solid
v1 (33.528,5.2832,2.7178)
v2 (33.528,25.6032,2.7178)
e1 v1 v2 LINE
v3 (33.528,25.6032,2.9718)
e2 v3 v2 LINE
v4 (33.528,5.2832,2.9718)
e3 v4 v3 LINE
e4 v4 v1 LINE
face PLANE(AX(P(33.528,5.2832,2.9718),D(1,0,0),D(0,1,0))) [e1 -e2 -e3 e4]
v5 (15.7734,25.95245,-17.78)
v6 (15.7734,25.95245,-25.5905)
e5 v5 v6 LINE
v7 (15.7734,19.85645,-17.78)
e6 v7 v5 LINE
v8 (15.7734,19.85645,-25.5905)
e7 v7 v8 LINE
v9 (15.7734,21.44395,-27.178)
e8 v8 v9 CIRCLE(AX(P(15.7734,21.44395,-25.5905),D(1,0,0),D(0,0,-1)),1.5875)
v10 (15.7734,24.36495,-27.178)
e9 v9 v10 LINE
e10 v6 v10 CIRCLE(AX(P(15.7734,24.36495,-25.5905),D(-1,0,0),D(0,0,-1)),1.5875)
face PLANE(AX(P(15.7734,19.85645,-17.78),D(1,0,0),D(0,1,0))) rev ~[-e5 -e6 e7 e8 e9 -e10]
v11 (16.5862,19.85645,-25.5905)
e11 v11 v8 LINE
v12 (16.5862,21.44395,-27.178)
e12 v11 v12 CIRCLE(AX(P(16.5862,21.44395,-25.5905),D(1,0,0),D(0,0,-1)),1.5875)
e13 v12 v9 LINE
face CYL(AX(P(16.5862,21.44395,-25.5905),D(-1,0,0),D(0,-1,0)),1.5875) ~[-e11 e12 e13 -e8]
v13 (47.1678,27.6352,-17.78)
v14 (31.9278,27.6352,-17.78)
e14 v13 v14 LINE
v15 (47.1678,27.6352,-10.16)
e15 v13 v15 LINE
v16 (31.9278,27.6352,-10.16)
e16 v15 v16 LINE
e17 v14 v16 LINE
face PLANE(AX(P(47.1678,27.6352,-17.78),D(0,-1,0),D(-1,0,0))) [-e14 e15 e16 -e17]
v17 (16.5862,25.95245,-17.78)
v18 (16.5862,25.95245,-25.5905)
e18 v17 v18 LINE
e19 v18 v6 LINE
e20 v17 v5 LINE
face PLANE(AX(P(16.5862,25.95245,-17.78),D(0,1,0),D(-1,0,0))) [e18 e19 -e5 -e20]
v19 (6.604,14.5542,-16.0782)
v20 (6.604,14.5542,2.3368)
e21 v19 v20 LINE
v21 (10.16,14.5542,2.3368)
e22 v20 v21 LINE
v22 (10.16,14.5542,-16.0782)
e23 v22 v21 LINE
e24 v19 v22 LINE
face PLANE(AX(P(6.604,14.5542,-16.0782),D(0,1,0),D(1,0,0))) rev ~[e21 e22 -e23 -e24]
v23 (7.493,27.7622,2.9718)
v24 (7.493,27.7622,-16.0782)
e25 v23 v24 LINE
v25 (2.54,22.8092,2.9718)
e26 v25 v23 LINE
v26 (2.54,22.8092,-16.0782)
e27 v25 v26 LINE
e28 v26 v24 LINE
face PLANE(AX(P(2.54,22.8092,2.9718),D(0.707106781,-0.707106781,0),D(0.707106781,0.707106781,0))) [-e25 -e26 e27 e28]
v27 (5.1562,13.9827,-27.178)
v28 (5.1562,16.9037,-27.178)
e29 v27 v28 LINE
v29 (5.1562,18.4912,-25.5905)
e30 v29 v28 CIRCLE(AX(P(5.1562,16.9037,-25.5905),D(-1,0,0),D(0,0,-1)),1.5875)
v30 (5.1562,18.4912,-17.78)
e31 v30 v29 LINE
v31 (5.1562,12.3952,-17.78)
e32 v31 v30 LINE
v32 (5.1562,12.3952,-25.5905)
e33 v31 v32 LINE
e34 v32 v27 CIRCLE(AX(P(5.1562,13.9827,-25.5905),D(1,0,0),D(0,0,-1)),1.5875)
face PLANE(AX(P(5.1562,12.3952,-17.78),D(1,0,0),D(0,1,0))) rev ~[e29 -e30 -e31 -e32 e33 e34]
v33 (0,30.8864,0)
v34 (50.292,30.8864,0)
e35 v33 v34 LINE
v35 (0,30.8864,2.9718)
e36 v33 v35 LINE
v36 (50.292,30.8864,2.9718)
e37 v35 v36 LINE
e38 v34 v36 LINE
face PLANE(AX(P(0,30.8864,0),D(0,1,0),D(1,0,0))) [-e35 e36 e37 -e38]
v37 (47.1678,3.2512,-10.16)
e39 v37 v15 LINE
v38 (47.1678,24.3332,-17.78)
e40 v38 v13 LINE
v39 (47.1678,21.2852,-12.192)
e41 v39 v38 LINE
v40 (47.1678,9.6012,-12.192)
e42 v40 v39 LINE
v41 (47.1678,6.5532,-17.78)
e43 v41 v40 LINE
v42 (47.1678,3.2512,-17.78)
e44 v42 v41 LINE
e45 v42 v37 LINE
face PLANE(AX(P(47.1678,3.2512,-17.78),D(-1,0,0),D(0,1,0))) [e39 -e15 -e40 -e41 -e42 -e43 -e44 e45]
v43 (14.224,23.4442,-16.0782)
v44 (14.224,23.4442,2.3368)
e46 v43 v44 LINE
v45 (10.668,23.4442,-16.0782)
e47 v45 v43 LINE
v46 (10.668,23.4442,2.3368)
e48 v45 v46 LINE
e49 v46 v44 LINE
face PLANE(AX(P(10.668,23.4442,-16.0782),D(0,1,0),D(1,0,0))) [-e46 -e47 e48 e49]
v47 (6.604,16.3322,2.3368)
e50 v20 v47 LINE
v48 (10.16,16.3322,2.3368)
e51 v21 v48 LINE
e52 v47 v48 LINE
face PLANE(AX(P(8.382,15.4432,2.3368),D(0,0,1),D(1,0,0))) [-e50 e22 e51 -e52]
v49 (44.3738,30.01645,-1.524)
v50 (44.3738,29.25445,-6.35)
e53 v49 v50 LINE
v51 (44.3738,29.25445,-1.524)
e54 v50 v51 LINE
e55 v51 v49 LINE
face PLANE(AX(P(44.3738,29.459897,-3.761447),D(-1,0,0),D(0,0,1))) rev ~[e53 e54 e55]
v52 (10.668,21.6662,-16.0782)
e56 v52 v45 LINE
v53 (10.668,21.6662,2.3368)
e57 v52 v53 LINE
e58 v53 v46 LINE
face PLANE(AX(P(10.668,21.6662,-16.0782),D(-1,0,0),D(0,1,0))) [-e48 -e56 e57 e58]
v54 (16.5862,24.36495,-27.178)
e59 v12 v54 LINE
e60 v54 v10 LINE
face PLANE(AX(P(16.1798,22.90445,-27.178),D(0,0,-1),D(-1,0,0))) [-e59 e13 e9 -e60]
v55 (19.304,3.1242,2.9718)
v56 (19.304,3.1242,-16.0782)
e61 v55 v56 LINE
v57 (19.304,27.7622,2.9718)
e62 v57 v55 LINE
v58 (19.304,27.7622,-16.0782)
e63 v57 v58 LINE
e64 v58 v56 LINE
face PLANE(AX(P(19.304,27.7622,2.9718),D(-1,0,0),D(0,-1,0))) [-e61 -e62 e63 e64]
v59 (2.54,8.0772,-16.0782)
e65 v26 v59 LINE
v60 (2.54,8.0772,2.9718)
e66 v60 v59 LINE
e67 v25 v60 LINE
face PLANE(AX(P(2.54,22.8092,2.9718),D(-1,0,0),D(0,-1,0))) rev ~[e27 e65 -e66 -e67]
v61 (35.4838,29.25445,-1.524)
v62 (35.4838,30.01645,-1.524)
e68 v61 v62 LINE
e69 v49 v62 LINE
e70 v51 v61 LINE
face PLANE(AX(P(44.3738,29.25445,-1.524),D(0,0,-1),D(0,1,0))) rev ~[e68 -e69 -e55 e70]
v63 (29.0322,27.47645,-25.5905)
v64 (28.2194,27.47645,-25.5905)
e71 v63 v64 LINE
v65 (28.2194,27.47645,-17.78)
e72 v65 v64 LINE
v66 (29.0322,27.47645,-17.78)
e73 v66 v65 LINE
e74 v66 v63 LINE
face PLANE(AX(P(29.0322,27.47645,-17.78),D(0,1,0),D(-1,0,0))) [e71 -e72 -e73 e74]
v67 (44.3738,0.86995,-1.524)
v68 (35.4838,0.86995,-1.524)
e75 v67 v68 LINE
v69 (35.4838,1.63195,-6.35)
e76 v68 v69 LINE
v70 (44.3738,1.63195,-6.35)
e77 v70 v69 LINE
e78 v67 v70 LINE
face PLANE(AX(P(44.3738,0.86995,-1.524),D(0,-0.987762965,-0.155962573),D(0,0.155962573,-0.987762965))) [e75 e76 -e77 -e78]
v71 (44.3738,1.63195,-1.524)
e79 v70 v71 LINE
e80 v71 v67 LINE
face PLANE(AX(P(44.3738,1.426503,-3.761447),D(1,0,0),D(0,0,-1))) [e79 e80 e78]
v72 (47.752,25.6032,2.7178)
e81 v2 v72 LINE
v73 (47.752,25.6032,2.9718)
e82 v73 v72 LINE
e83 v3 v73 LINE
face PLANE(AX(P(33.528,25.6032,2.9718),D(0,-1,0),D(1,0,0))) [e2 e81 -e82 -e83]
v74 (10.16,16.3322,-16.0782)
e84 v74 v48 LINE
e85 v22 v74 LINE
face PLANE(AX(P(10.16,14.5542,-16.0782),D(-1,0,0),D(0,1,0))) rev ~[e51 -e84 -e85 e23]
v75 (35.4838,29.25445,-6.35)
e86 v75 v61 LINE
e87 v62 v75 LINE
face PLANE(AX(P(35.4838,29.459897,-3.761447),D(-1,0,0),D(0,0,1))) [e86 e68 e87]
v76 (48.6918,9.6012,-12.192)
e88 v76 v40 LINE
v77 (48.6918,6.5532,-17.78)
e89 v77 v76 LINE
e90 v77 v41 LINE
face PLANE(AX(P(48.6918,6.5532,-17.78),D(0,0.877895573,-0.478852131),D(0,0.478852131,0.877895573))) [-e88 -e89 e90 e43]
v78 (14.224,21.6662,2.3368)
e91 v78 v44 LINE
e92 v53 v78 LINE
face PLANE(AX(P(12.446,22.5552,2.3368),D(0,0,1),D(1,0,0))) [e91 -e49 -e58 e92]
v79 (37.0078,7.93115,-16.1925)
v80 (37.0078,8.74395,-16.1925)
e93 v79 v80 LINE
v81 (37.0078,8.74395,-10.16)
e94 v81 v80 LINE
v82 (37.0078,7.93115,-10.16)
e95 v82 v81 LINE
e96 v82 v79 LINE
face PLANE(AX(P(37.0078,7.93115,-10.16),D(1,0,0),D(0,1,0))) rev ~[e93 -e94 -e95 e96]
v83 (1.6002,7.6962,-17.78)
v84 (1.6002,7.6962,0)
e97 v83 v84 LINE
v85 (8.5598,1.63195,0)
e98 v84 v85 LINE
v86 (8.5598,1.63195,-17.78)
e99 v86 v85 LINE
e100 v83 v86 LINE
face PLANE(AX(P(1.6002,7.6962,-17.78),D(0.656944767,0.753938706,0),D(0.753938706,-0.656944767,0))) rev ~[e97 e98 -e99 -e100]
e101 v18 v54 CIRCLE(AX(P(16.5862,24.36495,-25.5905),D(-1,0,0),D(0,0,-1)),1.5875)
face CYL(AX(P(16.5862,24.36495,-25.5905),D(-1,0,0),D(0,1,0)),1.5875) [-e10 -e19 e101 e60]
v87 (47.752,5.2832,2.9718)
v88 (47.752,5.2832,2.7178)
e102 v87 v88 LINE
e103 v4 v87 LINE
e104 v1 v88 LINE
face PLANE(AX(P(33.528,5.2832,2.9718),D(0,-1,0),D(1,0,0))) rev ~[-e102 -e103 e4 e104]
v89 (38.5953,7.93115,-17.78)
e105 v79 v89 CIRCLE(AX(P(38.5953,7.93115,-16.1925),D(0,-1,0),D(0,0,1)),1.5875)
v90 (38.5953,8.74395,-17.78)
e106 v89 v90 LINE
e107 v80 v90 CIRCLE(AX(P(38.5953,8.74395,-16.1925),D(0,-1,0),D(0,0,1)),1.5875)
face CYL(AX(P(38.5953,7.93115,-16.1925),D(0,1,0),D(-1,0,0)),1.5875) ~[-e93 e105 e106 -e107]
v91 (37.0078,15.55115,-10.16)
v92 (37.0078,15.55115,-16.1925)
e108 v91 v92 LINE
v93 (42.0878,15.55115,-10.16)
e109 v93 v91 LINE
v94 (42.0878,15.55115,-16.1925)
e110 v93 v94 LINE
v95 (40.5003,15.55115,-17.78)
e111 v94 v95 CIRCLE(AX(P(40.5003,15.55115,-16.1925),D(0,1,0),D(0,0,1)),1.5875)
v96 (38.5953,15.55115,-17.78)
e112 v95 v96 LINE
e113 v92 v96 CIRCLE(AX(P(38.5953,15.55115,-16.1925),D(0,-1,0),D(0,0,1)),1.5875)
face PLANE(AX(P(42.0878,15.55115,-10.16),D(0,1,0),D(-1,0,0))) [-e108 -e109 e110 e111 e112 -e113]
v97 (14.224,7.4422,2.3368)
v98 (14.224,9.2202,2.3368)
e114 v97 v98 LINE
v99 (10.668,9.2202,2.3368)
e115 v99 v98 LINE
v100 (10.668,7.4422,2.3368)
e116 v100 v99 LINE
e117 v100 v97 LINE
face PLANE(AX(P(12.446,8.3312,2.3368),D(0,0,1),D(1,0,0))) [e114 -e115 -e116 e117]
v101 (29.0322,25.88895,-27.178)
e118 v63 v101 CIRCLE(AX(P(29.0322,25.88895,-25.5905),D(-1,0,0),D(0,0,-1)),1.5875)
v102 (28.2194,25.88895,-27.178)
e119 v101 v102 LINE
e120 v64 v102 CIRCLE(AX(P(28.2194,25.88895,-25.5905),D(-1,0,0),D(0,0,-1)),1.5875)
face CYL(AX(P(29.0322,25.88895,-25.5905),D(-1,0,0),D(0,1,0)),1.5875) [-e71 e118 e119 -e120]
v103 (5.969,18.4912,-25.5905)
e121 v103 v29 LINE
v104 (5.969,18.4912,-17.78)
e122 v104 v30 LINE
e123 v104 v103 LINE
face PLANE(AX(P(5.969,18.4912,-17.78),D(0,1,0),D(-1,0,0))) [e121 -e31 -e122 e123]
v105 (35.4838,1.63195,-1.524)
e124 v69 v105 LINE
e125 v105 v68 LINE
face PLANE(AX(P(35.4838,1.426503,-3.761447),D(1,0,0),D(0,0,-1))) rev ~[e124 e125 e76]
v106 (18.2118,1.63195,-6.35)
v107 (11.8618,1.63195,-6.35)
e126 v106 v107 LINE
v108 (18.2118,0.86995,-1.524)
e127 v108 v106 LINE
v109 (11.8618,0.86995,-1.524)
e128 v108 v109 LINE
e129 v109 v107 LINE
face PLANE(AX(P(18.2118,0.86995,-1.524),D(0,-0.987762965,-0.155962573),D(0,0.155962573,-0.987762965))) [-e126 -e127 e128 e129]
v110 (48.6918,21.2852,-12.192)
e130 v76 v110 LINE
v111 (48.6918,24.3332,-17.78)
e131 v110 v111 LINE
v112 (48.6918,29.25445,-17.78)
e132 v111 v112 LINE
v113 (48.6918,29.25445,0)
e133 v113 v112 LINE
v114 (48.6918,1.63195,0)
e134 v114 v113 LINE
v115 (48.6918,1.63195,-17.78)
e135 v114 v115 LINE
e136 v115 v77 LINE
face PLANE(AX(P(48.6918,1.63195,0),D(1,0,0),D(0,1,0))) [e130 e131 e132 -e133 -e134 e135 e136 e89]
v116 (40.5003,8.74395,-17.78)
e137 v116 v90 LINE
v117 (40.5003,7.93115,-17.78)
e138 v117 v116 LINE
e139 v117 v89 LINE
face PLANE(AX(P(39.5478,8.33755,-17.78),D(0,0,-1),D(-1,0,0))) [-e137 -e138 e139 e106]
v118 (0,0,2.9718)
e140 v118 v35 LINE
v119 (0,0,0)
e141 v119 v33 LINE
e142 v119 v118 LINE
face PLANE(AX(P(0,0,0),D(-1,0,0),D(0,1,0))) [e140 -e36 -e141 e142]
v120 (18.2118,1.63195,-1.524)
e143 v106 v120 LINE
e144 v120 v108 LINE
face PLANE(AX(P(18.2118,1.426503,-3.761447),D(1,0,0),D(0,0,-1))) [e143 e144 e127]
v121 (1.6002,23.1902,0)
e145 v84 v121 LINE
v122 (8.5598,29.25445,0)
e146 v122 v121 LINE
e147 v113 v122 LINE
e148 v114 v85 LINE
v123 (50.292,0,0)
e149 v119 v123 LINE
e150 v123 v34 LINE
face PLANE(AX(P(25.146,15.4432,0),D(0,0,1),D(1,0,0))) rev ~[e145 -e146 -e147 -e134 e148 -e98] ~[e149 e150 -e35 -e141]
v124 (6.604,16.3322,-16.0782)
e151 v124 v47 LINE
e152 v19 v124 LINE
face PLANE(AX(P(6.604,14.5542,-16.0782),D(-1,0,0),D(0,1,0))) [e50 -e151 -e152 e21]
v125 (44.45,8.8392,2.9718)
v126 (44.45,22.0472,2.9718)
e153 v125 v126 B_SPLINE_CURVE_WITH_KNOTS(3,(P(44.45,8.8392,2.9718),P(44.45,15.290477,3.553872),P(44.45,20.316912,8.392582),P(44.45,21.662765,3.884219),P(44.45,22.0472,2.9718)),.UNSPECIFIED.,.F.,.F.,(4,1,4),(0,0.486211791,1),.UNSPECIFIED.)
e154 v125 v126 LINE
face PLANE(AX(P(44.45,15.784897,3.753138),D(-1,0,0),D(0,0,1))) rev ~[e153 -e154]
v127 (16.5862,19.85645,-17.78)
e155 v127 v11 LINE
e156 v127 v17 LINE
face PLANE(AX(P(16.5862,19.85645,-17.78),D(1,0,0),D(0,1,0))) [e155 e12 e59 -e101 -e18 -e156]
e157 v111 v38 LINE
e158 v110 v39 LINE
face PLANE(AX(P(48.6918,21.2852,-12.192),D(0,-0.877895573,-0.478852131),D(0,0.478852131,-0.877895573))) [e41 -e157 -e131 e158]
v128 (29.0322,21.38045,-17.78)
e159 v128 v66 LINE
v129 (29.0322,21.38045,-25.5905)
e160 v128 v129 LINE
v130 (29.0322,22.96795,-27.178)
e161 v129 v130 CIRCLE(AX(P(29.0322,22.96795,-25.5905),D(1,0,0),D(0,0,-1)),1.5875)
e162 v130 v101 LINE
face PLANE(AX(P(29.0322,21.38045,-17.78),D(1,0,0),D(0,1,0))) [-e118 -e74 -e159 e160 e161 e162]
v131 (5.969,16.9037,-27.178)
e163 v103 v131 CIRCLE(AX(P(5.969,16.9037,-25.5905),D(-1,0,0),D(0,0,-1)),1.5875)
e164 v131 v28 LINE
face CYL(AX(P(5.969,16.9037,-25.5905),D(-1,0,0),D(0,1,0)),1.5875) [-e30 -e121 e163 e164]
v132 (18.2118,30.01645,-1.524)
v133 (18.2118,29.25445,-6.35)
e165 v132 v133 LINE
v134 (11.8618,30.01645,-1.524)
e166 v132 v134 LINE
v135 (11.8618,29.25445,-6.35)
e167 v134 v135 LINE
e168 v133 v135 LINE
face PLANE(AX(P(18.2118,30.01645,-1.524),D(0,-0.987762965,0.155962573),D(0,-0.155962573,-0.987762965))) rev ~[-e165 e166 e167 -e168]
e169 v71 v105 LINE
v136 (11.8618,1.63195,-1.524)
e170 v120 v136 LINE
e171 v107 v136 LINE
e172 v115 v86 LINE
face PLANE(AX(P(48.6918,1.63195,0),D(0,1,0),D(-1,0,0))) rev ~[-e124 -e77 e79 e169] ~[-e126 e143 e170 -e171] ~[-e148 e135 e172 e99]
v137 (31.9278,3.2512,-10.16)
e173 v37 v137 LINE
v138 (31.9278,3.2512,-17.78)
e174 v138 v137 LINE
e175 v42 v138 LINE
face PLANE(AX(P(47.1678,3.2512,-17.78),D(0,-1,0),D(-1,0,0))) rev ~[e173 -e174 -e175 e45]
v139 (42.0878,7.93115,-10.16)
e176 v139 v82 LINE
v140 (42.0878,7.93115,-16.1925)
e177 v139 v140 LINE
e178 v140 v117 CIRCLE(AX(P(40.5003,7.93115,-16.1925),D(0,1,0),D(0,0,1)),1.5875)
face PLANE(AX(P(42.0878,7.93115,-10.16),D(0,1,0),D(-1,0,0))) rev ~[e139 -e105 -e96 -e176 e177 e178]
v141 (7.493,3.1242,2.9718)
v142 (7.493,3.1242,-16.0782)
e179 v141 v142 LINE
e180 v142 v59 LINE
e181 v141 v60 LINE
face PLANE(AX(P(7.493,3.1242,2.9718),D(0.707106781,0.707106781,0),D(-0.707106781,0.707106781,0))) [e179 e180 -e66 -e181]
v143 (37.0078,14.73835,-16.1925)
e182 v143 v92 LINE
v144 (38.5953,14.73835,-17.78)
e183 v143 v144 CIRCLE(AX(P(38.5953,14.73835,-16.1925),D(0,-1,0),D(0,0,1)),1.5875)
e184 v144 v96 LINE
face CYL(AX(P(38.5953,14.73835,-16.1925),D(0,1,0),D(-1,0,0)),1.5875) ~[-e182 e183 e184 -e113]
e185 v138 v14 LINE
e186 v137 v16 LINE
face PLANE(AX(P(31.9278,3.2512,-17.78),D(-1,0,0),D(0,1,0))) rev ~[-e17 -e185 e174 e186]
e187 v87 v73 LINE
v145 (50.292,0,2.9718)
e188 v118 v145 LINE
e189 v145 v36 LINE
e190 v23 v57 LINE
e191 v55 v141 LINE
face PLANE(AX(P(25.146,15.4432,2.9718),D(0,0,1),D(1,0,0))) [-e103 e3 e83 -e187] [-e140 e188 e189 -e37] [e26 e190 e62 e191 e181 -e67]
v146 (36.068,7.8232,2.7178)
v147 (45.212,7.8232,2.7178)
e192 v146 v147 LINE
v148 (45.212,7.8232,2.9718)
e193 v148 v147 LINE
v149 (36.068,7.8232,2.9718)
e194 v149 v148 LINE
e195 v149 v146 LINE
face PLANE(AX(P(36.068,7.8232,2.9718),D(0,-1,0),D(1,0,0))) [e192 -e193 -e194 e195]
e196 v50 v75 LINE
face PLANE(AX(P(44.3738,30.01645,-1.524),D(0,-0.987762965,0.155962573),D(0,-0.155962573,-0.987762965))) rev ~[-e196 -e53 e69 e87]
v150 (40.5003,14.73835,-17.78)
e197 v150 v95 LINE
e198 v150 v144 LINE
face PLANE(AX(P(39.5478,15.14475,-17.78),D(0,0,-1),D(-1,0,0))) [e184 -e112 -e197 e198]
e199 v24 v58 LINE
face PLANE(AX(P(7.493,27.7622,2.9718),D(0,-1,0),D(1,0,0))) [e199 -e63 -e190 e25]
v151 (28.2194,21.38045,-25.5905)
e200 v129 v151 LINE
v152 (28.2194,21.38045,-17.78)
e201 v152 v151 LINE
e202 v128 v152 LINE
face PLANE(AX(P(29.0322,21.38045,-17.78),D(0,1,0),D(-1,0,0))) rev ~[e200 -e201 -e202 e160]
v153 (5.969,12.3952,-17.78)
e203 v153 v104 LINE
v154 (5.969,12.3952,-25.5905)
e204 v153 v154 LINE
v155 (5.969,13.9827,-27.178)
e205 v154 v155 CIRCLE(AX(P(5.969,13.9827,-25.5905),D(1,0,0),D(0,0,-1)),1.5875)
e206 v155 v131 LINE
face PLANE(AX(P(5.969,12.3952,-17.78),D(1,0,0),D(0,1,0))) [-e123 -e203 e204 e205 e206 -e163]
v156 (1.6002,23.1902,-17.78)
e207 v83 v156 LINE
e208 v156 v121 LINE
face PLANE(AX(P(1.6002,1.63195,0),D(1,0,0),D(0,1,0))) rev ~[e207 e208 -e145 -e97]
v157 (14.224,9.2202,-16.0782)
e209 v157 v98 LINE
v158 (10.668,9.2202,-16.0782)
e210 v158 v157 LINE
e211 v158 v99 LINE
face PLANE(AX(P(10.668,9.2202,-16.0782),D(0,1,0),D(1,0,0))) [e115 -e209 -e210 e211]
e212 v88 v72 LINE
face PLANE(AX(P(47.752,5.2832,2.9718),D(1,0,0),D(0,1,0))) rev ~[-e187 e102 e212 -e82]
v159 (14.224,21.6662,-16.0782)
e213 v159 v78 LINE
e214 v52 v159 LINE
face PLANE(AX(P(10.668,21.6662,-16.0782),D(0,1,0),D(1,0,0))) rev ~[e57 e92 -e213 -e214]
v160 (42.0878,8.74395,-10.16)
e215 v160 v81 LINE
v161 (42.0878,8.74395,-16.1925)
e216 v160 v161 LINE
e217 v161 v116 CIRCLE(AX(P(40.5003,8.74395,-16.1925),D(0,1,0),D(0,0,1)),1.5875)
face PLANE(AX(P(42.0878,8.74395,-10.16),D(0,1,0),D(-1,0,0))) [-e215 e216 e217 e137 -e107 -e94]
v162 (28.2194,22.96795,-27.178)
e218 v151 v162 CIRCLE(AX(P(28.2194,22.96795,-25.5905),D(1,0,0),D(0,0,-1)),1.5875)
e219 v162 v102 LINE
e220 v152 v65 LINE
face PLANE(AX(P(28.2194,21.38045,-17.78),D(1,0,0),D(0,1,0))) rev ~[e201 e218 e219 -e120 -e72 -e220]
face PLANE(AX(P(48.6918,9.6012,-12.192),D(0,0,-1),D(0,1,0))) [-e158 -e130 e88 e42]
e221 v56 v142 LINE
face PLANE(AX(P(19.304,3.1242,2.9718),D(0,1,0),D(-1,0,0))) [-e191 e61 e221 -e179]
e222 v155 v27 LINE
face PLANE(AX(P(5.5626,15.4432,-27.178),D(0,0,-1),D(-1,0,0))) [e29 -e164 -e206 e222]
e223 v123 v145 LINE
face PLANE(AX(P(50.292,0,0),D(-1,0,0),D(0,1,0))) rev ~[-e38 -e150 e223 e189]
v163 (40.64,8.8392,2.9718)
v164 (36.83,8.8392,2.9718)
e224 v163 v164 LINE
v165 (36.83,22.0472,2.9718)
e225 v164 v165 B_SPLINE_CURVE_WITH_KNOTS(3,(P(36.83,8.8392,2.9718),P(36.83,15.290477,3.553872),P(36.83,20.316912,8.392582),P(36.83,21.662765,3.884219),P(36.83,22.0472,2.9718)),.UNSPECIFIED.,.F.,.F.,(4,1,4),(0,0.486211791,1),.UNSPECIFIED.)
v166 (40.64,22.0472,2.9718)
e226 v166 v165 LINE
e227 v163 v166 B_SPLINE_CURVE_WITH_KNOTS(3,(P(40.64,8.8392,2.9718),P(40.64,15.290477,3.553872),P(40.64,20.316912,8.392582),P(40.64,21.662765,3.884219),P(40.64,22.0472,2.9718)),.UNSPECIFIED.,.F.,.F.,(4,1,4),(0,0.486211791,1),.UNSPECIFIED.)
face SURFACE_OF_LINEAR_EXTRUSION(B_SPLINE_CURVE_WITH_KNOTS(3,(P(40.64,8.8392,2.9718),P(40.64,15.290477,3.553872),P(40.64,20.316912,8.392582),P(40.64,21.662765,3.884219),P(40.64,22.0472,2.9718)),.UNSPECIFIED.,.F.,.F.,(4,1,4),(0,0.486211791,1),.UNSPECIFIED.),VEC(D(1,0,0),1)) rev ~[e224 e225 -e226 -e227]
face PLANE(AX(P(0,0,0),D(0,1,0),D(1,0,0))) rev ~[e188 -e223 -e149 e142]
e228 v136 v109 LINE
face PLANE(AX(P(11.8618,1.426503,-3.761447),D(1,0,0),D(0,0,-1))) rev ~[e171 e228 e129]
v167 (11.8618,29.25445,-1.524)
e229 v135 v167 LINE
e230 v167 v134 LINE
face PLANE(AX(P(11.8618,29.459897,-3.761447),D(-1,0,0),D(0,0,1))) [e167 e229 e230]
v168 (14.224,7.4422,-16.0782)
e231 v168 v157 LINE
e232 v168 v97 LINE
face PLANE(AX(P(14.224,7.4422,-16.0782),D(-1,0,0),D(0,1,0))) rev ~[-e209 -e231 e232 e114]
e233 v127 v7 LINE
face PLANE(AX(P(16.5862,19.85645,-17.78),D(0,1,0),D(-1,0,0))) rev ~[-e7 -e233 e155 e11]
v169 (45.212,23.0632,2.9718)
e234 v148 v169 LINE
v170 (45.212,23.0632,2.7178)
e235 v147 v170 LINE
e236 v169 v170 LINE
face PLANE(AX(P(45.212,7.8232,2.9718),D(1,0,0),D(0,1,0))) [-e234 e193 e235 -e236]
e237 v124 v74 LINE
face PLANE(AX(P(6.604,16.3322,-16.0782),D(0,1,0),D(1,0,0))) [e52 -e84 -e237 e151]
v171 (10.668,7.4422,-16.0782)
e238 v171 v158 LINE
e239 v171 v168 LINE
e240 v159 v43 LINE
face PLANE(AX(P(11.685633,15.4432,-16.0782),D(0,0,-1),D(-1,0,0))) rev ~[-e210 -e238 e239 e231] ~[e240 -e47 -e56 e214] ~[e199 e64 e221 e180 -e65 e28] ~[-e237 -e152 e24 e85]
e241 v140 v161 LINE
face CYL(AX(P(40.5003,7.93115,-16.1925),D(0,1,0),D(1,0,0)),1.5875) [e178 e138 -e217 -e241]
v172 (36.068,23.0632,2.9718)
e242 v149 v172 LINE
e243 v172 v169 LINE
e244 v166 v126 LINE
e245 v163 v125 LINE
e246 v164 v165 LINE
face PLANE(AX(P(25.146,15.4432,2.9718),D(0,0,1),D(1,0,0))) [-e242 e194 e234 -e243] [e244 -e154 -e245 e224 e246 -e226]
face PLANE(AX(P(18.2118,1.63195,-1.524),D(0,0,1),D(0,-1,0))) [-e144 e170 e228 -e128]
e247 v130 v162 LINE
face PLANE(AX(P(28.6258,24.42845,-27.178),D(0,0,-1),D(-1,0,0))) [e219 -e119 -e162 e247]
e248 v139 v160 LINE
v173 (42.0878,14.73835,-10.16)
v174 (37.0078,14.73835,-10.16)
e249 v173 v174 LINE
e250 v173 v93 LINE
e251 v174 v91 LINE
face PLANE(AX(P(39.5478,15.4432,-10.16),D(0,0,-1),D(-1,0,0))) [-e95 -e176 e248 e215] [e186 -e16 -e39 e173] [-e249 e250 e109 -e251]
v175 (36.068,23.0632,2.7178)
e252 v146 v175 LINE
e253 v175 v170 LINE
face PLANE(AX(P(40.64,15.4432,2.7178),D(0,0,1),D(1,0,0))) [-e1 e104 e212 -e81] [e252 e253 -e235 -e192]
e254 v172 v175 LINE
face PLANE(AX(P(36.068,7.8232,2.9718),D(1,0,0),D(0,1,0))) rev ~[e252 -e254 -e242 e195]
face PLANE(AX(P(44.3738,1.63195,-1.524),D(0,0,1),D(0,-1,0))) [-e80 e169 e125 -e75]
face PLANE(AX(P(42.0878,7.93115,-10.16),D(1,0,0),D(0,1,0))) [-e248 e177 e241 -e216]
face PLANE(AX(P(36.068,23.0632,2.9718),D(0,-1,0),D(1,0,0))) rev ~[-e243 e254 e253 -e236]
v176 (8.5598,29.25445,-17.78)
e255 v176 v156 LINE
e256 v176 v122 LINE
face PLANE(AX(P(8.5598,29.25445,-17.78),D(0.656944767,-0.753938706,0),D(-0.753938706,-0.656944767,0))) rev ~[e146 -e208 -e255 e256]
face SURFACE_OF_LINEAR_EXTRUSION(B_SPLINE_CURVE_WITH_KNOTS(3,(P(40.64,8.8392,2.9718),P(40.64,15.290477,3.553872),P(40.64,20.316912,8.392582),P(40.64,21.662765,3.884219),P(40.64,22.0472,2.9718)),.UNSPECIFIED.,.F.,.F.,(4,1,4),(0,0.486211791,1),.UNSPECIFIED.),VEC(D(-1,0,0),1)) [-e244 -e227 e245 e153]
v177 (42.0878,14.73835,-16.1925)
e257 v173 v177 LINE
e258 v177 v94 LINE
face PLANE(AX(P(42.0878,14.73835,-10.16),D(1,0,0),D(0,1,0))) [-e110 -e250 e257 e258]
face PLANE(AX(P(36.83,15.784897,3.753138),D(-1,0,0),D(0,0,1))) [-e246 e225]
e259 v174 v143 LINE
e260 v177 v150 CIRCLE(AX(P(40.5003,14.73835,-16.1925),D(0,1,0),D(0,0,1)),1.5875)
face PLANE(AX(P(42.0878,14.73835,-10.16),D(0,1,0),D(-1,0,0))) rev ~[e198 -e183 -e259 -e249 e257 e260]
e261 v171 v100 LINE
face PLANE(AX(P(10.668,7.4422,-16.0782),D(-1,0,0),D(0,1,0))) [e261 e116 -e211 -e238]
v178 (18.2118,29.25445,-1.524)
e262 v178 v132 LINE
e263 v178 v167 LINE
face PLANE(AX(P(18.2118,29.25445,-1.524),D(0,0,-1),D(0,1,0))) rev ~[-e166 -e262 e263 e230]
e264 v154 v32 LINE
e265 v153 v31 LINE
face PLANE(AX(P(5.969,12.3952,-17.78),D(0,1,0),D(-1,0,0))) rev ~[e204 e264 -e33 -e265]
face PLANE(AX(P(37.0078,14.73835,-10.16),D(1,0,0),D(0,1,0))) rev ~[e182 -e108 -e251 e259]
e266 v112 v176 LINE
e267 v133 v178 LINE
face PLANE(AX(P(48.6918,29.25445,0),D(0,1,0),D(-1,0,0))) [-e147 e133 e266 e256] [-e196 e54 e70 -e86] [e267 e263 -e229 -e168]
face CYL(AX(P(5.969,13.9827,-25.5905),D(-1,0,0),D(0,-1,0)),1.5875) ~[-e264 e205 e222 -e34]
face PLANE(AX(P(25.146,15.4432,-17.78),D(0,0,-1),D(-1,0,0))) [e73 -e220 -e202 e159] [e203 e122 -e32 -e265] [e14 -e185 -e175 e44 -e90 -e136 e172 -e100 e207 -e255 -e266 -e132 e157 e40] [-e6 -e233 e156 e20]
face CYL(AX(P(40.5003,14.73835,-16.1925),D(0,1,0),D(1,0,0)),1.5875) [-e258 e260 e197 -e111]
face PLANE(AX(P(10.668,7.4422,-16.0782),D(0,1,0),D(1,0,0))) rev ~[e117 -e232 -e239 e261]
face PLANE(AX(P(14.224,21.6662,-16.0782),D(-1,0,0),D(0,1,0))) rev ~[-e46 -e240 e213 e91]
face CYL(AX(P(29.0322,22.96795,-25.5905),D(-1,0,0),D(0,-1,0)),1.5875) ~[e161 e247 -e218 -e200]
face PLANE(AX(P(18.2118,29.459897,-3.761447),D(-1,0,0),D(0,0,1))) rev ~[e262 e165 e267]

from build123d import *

# Parameters (mm, degrees)
SKETCH1_W           = 50.292
SKETCH1_H           = 30.8864
BOSS_EXTRUDE1_DEPTH = 2.9718
SKETCH2_W           = 47.0916
SKETCH2_H           = 27.6225
BOSS_EXTRUDE2_DEPTH = 17.78
CUT_EXTRUDE1_DEPTH  = 17.78
SKETCH4_W           = 15.24
SKETCH4_H           = 24.384
CUT_EXTRUDE2_DEPTH  = 7.62
CUT_EXTRUDE3_REACH  = 62.341
SKETCH6_W           = 0.8128
SKETCH6_H           = 6.096
BOSS_EXTRUDE3_DEPTH = 9.398
SKETCH7_W           = 5.08
SKETCH7_H           = 0.8128
BOSS_EXTRUDE4_DEPTH = 7.62
FILLET1_R           = 1.5875
CUT_EXTRUDE4_DEPTH  = 19.05
SKETCH9_W           = 3.556
SKETCH9_H           = 1.778
BOSS_EXTRUDE5_DEPTH = 18.415
SKETCH10_W          = 14.224
SKETCH10_H          = 20.32
SKETCH10_W_2        = 9.144
SKETCH10_H_2        = 15.24
CUT_EXTRUDE5_DEPTH  = 0.254
BOSS_EXTRUDE6_START = -9.652
BOSS_EXTRUDE6_DEPTH = 3.81
BOSS_EXTRUDE7_START = -4.318
BOSS_EXTRUDE7_DEPTH = 8.89
BOSS_EXTRUDE8_START = -30.48
BOSS_EXTRUDE8_DEPTH = 6.35


with BuildPart() as part:
    # Sketch1 → Boss-Extrude1 (new body)
    with BuildSketch(Plane.XY):
        with Locations((25.146, 15.4432)):
            Rectangle(SKETCH1_W, SKETCH1_H)
    extrude(amount=BOSS_EXTRUDE1_DEPTH)

    # Sketch2 → Boss-Extrude2 (add)
    with BuildSketch(Plane(origin=(0, 0, 0), x_dir=(-1, 0, 0), z_dir=(0, 0, -1))):
        with Locations((-25.146, 15.4432)):
            Rectangle(SKETCH2_W, SKETCH2_H)
    extrude(amount=BOSS_EXTRUDE2_DEPTH)

    # Sketch3 → Cut-Extrude1 (cut)
    with BuildSketch(Plane(origin=(0, 0, -17.78), x_dir=(-1, 0, 0), z_dir=(0, 0, -1))):
        Polygon((-8.5598, 29.25445), (-1.6002, 23.1902), (-1.6002, 29.25445), align=None)
        Polygon((-1.6002, 1.63195), (-1.6002, 7.6962), (-8.5598, 1.63195), align=None)
    extrude(amount=-CUT_EXTRUDE1_DEPTH, mode=Mode.SUBTRACT)

    # Sketch4 → Cut-Extrude2 (cut)
    with BuildSketch(Plane(origin=(0, 0, -17.78), x_dir=(-1, 0, 0), z_dir=(0, 0, -1))):
        with Locations((-39.5478, 15.4432)):
            Rectangle(SKETCH4_W, SKETCH4_H)
    extrude(amount=-CUT_EXTRUDE2_DEPTH, mode=Mode.SUBTRACT)

    # Sketch5 → Cut-Extrude3 (cut, up to next)
    with BuildSketch(Plane(origin=(48.6918, 0, 0), x_dir=(0, 0, -1), z_dir=(1, 0, 0)), mode=Mode.PRIVATE) as cut_extrude3_sk1:
        Polygon((17.78, 24.3332), (17.78, 6.5532), (12.192, 9.6012), (12.192, 21.2852), align=None)
    cut_extrude3_tool1 = extrude(cut_extrude3_sk1.sketch, amount=-CUT_EXTRUDE3_REACH, mode=Mode.PRIVATE) & part.part
    add(cut_extrude3_tool1.solids().sort_by_distance((48.6918, 15.4432, -15.17869))[0], mode=Mode.SUBTRACT)

    # Sketch6 → Boss-Extrude3 (add)
    with BuildSketch(Plane(origin=(0, 0, -17.78), x_dir=(-1, 0, 0), z_dir=(0, 0, -1))):
        with Locations((-5.5626, 15.4432)):
            Rectangle(SKETCH6_W, SKETCH6_H)
        with Locations((-16.1798, 22.90445)):
            Rectangle(SKETCH6_W, SKETCH6_H)
        with Locations((-28.6258, 24.42845)):
            Rectangle(SKETCH6_W, SKETCH6_H)
    extrude(amount=BOSS_EXTRUDE3_DEPTH)

    # Sketch7 → Boss-Extrude4 (add)
    with BuildSketch(Plane(origin=(0, 0, -10.16), x_dir=(-1, 0, 0), z_dir=(0, 0, -1))):
        with Locations((-39.5478, 8.33755)):
            Rectangle(SKETCH7_W, SKETCH7_H)
        with Locations((-39.5478, 15.14475)):
            Rectangle(SKETCH7_W, SKETCH7_H)
    extrude(amount=BOSS_EXTRUDE4_DEPTH)

    # Fillet1
    fillet1_edges = [part.edges().sort_by_distance(p)[0] for p in [
        (42.0878, 8.33755, -17.78),
        (37.0078, 8.33755, -17.78),
        (42.0878, 15.14475, -17.78),
        (37.0078, 15.14475, -17.78),
        (5.5626, 12.3952, -27.178),
        (5.5626, 18.4912, -27.178),
        (16.1798, 19.85645, -27.178),
        (16.1798, 25.95245, -27.178),
        (28.6258, 21.38045, -27.178),
        (28.6258, 27.47645, -27.178),
    ]]
    fillet(fillet1_edges, radius=FILLET1_R)

    # Sketch8 → Cut-Extrude4 (cut)
    with BuildSketch(Plane.XY.offset(2.9718)):
        Polygon((19.304, 27.7622), (19.304, 3.1242), (7.493, 3.1242), (2.54, 8.0772), (2.54, 15.4432), (2.54, 22.8092), (7.493, 27.7622), align=None)
    extrude(amount=-CUT_EXTRUDE4_DEPTH, mode=Mode.SUBTRACT)

    # Sketch9 → Boss-Extrude5 (add)
    with BuildSketch(Plane.XY.offset(-16.0782)):
        with Locations((12.446, 22.5552)):
            Rectangle(SKETCH9_W, SKETCH9_H)
        with Locations((8.382, 15.4432)):
            Rectangle(SKETCH9_W, SKETCH9_H)
        with Locations((12.446, 8.3312)):
            Rectangle(SKETCH9_W, SKETCH9_H)
    extrude(amount=BOSS_EXTRUDE5_DEPTH)

    # Sketch10 → Cut-Extrude5 (cut)
    with BuildSketch(Plane.XY.offset(2.9718)):
        with Locations((40.64, 15.4432)):
            Rectangle(SKETCH10_W, SKETCH10_H)
        with Locations((40.64, 15.4432)):
            Rectangle(SKETCH10_W_2, SKETCH10_H_2, mode=Mode.SUBTRACT)
    extrude(amount=-CUT_EXTRUDE5_DEPTH, mode=Mode.SUBTRACT)

    # Sketch11 → Boss-Extrude6 (add, symmetric)
    with BuildSketch(Plane(origin=(50.292, 0, 0), x_dir=(0, 0, -1), z_dir=(1, 0, 0)).offset(BOSS_EXTRUDE6_START)):
        with BuildLine():
            Line((-2.9718, 15.4432), (-2.9718, 22.0472))
            add(Edge.make_bspline(
                [(-2.9718, 8.8392), (-3.553872131, 15.290477118), (-8.392581533, 20.316911693), (-3.884219092, 21.66276478), (-2.9718, 22.0472)],
                knots=[0, 0, 0, 0, 0.486211791, 1, 1, 1, 1], degree=3))
            Line((-2.9718, 8.8392), (-2.9718, 15.4432))
        make_face()
    extrude(amount=BOSS_EXTRUDE6_DEPTH, both=True)

    # Sketch12 → Boss-Extrude7 (add)
    with BuildSketch(Plane(origin=(48.6918, 0, 0), x_dir=(0, 0, -1), z_dir=(1, 0, 0)).offset(BOSS_EXTRUDE7_START)):
        Polygon((1.524, 29.25445), (1.524, 30.01645), (6.35, 29.25445), align=None)
        Polygon((1.524, 1.63195), (1.524, 0.86995), (6.35, 1.63195), align=None)
    extrude(amount=-BOSS_EXTRUDE7_DEPTH)

    # Sketch12<2> → Boss-Extrude8 (add)
    with BuildSketch(Plane(origin=(48.6918, 0, 0), x_dir=(0, 0, -1), z_dir=(1, 0, 0)).offset(BOSS_EXTRUDE8_START)):
        Polygon((1.524, 29.25445), (1.524, 30.01645), (6.35, 29.25445), align=None)
        Polygon((1.524, 1.63195), (1.524, 0.86995), (6.35, 1.63195), align=None)
    extrude(amount=-BOSS_EXTRUDE8_DEPTH)


solid = part.part
